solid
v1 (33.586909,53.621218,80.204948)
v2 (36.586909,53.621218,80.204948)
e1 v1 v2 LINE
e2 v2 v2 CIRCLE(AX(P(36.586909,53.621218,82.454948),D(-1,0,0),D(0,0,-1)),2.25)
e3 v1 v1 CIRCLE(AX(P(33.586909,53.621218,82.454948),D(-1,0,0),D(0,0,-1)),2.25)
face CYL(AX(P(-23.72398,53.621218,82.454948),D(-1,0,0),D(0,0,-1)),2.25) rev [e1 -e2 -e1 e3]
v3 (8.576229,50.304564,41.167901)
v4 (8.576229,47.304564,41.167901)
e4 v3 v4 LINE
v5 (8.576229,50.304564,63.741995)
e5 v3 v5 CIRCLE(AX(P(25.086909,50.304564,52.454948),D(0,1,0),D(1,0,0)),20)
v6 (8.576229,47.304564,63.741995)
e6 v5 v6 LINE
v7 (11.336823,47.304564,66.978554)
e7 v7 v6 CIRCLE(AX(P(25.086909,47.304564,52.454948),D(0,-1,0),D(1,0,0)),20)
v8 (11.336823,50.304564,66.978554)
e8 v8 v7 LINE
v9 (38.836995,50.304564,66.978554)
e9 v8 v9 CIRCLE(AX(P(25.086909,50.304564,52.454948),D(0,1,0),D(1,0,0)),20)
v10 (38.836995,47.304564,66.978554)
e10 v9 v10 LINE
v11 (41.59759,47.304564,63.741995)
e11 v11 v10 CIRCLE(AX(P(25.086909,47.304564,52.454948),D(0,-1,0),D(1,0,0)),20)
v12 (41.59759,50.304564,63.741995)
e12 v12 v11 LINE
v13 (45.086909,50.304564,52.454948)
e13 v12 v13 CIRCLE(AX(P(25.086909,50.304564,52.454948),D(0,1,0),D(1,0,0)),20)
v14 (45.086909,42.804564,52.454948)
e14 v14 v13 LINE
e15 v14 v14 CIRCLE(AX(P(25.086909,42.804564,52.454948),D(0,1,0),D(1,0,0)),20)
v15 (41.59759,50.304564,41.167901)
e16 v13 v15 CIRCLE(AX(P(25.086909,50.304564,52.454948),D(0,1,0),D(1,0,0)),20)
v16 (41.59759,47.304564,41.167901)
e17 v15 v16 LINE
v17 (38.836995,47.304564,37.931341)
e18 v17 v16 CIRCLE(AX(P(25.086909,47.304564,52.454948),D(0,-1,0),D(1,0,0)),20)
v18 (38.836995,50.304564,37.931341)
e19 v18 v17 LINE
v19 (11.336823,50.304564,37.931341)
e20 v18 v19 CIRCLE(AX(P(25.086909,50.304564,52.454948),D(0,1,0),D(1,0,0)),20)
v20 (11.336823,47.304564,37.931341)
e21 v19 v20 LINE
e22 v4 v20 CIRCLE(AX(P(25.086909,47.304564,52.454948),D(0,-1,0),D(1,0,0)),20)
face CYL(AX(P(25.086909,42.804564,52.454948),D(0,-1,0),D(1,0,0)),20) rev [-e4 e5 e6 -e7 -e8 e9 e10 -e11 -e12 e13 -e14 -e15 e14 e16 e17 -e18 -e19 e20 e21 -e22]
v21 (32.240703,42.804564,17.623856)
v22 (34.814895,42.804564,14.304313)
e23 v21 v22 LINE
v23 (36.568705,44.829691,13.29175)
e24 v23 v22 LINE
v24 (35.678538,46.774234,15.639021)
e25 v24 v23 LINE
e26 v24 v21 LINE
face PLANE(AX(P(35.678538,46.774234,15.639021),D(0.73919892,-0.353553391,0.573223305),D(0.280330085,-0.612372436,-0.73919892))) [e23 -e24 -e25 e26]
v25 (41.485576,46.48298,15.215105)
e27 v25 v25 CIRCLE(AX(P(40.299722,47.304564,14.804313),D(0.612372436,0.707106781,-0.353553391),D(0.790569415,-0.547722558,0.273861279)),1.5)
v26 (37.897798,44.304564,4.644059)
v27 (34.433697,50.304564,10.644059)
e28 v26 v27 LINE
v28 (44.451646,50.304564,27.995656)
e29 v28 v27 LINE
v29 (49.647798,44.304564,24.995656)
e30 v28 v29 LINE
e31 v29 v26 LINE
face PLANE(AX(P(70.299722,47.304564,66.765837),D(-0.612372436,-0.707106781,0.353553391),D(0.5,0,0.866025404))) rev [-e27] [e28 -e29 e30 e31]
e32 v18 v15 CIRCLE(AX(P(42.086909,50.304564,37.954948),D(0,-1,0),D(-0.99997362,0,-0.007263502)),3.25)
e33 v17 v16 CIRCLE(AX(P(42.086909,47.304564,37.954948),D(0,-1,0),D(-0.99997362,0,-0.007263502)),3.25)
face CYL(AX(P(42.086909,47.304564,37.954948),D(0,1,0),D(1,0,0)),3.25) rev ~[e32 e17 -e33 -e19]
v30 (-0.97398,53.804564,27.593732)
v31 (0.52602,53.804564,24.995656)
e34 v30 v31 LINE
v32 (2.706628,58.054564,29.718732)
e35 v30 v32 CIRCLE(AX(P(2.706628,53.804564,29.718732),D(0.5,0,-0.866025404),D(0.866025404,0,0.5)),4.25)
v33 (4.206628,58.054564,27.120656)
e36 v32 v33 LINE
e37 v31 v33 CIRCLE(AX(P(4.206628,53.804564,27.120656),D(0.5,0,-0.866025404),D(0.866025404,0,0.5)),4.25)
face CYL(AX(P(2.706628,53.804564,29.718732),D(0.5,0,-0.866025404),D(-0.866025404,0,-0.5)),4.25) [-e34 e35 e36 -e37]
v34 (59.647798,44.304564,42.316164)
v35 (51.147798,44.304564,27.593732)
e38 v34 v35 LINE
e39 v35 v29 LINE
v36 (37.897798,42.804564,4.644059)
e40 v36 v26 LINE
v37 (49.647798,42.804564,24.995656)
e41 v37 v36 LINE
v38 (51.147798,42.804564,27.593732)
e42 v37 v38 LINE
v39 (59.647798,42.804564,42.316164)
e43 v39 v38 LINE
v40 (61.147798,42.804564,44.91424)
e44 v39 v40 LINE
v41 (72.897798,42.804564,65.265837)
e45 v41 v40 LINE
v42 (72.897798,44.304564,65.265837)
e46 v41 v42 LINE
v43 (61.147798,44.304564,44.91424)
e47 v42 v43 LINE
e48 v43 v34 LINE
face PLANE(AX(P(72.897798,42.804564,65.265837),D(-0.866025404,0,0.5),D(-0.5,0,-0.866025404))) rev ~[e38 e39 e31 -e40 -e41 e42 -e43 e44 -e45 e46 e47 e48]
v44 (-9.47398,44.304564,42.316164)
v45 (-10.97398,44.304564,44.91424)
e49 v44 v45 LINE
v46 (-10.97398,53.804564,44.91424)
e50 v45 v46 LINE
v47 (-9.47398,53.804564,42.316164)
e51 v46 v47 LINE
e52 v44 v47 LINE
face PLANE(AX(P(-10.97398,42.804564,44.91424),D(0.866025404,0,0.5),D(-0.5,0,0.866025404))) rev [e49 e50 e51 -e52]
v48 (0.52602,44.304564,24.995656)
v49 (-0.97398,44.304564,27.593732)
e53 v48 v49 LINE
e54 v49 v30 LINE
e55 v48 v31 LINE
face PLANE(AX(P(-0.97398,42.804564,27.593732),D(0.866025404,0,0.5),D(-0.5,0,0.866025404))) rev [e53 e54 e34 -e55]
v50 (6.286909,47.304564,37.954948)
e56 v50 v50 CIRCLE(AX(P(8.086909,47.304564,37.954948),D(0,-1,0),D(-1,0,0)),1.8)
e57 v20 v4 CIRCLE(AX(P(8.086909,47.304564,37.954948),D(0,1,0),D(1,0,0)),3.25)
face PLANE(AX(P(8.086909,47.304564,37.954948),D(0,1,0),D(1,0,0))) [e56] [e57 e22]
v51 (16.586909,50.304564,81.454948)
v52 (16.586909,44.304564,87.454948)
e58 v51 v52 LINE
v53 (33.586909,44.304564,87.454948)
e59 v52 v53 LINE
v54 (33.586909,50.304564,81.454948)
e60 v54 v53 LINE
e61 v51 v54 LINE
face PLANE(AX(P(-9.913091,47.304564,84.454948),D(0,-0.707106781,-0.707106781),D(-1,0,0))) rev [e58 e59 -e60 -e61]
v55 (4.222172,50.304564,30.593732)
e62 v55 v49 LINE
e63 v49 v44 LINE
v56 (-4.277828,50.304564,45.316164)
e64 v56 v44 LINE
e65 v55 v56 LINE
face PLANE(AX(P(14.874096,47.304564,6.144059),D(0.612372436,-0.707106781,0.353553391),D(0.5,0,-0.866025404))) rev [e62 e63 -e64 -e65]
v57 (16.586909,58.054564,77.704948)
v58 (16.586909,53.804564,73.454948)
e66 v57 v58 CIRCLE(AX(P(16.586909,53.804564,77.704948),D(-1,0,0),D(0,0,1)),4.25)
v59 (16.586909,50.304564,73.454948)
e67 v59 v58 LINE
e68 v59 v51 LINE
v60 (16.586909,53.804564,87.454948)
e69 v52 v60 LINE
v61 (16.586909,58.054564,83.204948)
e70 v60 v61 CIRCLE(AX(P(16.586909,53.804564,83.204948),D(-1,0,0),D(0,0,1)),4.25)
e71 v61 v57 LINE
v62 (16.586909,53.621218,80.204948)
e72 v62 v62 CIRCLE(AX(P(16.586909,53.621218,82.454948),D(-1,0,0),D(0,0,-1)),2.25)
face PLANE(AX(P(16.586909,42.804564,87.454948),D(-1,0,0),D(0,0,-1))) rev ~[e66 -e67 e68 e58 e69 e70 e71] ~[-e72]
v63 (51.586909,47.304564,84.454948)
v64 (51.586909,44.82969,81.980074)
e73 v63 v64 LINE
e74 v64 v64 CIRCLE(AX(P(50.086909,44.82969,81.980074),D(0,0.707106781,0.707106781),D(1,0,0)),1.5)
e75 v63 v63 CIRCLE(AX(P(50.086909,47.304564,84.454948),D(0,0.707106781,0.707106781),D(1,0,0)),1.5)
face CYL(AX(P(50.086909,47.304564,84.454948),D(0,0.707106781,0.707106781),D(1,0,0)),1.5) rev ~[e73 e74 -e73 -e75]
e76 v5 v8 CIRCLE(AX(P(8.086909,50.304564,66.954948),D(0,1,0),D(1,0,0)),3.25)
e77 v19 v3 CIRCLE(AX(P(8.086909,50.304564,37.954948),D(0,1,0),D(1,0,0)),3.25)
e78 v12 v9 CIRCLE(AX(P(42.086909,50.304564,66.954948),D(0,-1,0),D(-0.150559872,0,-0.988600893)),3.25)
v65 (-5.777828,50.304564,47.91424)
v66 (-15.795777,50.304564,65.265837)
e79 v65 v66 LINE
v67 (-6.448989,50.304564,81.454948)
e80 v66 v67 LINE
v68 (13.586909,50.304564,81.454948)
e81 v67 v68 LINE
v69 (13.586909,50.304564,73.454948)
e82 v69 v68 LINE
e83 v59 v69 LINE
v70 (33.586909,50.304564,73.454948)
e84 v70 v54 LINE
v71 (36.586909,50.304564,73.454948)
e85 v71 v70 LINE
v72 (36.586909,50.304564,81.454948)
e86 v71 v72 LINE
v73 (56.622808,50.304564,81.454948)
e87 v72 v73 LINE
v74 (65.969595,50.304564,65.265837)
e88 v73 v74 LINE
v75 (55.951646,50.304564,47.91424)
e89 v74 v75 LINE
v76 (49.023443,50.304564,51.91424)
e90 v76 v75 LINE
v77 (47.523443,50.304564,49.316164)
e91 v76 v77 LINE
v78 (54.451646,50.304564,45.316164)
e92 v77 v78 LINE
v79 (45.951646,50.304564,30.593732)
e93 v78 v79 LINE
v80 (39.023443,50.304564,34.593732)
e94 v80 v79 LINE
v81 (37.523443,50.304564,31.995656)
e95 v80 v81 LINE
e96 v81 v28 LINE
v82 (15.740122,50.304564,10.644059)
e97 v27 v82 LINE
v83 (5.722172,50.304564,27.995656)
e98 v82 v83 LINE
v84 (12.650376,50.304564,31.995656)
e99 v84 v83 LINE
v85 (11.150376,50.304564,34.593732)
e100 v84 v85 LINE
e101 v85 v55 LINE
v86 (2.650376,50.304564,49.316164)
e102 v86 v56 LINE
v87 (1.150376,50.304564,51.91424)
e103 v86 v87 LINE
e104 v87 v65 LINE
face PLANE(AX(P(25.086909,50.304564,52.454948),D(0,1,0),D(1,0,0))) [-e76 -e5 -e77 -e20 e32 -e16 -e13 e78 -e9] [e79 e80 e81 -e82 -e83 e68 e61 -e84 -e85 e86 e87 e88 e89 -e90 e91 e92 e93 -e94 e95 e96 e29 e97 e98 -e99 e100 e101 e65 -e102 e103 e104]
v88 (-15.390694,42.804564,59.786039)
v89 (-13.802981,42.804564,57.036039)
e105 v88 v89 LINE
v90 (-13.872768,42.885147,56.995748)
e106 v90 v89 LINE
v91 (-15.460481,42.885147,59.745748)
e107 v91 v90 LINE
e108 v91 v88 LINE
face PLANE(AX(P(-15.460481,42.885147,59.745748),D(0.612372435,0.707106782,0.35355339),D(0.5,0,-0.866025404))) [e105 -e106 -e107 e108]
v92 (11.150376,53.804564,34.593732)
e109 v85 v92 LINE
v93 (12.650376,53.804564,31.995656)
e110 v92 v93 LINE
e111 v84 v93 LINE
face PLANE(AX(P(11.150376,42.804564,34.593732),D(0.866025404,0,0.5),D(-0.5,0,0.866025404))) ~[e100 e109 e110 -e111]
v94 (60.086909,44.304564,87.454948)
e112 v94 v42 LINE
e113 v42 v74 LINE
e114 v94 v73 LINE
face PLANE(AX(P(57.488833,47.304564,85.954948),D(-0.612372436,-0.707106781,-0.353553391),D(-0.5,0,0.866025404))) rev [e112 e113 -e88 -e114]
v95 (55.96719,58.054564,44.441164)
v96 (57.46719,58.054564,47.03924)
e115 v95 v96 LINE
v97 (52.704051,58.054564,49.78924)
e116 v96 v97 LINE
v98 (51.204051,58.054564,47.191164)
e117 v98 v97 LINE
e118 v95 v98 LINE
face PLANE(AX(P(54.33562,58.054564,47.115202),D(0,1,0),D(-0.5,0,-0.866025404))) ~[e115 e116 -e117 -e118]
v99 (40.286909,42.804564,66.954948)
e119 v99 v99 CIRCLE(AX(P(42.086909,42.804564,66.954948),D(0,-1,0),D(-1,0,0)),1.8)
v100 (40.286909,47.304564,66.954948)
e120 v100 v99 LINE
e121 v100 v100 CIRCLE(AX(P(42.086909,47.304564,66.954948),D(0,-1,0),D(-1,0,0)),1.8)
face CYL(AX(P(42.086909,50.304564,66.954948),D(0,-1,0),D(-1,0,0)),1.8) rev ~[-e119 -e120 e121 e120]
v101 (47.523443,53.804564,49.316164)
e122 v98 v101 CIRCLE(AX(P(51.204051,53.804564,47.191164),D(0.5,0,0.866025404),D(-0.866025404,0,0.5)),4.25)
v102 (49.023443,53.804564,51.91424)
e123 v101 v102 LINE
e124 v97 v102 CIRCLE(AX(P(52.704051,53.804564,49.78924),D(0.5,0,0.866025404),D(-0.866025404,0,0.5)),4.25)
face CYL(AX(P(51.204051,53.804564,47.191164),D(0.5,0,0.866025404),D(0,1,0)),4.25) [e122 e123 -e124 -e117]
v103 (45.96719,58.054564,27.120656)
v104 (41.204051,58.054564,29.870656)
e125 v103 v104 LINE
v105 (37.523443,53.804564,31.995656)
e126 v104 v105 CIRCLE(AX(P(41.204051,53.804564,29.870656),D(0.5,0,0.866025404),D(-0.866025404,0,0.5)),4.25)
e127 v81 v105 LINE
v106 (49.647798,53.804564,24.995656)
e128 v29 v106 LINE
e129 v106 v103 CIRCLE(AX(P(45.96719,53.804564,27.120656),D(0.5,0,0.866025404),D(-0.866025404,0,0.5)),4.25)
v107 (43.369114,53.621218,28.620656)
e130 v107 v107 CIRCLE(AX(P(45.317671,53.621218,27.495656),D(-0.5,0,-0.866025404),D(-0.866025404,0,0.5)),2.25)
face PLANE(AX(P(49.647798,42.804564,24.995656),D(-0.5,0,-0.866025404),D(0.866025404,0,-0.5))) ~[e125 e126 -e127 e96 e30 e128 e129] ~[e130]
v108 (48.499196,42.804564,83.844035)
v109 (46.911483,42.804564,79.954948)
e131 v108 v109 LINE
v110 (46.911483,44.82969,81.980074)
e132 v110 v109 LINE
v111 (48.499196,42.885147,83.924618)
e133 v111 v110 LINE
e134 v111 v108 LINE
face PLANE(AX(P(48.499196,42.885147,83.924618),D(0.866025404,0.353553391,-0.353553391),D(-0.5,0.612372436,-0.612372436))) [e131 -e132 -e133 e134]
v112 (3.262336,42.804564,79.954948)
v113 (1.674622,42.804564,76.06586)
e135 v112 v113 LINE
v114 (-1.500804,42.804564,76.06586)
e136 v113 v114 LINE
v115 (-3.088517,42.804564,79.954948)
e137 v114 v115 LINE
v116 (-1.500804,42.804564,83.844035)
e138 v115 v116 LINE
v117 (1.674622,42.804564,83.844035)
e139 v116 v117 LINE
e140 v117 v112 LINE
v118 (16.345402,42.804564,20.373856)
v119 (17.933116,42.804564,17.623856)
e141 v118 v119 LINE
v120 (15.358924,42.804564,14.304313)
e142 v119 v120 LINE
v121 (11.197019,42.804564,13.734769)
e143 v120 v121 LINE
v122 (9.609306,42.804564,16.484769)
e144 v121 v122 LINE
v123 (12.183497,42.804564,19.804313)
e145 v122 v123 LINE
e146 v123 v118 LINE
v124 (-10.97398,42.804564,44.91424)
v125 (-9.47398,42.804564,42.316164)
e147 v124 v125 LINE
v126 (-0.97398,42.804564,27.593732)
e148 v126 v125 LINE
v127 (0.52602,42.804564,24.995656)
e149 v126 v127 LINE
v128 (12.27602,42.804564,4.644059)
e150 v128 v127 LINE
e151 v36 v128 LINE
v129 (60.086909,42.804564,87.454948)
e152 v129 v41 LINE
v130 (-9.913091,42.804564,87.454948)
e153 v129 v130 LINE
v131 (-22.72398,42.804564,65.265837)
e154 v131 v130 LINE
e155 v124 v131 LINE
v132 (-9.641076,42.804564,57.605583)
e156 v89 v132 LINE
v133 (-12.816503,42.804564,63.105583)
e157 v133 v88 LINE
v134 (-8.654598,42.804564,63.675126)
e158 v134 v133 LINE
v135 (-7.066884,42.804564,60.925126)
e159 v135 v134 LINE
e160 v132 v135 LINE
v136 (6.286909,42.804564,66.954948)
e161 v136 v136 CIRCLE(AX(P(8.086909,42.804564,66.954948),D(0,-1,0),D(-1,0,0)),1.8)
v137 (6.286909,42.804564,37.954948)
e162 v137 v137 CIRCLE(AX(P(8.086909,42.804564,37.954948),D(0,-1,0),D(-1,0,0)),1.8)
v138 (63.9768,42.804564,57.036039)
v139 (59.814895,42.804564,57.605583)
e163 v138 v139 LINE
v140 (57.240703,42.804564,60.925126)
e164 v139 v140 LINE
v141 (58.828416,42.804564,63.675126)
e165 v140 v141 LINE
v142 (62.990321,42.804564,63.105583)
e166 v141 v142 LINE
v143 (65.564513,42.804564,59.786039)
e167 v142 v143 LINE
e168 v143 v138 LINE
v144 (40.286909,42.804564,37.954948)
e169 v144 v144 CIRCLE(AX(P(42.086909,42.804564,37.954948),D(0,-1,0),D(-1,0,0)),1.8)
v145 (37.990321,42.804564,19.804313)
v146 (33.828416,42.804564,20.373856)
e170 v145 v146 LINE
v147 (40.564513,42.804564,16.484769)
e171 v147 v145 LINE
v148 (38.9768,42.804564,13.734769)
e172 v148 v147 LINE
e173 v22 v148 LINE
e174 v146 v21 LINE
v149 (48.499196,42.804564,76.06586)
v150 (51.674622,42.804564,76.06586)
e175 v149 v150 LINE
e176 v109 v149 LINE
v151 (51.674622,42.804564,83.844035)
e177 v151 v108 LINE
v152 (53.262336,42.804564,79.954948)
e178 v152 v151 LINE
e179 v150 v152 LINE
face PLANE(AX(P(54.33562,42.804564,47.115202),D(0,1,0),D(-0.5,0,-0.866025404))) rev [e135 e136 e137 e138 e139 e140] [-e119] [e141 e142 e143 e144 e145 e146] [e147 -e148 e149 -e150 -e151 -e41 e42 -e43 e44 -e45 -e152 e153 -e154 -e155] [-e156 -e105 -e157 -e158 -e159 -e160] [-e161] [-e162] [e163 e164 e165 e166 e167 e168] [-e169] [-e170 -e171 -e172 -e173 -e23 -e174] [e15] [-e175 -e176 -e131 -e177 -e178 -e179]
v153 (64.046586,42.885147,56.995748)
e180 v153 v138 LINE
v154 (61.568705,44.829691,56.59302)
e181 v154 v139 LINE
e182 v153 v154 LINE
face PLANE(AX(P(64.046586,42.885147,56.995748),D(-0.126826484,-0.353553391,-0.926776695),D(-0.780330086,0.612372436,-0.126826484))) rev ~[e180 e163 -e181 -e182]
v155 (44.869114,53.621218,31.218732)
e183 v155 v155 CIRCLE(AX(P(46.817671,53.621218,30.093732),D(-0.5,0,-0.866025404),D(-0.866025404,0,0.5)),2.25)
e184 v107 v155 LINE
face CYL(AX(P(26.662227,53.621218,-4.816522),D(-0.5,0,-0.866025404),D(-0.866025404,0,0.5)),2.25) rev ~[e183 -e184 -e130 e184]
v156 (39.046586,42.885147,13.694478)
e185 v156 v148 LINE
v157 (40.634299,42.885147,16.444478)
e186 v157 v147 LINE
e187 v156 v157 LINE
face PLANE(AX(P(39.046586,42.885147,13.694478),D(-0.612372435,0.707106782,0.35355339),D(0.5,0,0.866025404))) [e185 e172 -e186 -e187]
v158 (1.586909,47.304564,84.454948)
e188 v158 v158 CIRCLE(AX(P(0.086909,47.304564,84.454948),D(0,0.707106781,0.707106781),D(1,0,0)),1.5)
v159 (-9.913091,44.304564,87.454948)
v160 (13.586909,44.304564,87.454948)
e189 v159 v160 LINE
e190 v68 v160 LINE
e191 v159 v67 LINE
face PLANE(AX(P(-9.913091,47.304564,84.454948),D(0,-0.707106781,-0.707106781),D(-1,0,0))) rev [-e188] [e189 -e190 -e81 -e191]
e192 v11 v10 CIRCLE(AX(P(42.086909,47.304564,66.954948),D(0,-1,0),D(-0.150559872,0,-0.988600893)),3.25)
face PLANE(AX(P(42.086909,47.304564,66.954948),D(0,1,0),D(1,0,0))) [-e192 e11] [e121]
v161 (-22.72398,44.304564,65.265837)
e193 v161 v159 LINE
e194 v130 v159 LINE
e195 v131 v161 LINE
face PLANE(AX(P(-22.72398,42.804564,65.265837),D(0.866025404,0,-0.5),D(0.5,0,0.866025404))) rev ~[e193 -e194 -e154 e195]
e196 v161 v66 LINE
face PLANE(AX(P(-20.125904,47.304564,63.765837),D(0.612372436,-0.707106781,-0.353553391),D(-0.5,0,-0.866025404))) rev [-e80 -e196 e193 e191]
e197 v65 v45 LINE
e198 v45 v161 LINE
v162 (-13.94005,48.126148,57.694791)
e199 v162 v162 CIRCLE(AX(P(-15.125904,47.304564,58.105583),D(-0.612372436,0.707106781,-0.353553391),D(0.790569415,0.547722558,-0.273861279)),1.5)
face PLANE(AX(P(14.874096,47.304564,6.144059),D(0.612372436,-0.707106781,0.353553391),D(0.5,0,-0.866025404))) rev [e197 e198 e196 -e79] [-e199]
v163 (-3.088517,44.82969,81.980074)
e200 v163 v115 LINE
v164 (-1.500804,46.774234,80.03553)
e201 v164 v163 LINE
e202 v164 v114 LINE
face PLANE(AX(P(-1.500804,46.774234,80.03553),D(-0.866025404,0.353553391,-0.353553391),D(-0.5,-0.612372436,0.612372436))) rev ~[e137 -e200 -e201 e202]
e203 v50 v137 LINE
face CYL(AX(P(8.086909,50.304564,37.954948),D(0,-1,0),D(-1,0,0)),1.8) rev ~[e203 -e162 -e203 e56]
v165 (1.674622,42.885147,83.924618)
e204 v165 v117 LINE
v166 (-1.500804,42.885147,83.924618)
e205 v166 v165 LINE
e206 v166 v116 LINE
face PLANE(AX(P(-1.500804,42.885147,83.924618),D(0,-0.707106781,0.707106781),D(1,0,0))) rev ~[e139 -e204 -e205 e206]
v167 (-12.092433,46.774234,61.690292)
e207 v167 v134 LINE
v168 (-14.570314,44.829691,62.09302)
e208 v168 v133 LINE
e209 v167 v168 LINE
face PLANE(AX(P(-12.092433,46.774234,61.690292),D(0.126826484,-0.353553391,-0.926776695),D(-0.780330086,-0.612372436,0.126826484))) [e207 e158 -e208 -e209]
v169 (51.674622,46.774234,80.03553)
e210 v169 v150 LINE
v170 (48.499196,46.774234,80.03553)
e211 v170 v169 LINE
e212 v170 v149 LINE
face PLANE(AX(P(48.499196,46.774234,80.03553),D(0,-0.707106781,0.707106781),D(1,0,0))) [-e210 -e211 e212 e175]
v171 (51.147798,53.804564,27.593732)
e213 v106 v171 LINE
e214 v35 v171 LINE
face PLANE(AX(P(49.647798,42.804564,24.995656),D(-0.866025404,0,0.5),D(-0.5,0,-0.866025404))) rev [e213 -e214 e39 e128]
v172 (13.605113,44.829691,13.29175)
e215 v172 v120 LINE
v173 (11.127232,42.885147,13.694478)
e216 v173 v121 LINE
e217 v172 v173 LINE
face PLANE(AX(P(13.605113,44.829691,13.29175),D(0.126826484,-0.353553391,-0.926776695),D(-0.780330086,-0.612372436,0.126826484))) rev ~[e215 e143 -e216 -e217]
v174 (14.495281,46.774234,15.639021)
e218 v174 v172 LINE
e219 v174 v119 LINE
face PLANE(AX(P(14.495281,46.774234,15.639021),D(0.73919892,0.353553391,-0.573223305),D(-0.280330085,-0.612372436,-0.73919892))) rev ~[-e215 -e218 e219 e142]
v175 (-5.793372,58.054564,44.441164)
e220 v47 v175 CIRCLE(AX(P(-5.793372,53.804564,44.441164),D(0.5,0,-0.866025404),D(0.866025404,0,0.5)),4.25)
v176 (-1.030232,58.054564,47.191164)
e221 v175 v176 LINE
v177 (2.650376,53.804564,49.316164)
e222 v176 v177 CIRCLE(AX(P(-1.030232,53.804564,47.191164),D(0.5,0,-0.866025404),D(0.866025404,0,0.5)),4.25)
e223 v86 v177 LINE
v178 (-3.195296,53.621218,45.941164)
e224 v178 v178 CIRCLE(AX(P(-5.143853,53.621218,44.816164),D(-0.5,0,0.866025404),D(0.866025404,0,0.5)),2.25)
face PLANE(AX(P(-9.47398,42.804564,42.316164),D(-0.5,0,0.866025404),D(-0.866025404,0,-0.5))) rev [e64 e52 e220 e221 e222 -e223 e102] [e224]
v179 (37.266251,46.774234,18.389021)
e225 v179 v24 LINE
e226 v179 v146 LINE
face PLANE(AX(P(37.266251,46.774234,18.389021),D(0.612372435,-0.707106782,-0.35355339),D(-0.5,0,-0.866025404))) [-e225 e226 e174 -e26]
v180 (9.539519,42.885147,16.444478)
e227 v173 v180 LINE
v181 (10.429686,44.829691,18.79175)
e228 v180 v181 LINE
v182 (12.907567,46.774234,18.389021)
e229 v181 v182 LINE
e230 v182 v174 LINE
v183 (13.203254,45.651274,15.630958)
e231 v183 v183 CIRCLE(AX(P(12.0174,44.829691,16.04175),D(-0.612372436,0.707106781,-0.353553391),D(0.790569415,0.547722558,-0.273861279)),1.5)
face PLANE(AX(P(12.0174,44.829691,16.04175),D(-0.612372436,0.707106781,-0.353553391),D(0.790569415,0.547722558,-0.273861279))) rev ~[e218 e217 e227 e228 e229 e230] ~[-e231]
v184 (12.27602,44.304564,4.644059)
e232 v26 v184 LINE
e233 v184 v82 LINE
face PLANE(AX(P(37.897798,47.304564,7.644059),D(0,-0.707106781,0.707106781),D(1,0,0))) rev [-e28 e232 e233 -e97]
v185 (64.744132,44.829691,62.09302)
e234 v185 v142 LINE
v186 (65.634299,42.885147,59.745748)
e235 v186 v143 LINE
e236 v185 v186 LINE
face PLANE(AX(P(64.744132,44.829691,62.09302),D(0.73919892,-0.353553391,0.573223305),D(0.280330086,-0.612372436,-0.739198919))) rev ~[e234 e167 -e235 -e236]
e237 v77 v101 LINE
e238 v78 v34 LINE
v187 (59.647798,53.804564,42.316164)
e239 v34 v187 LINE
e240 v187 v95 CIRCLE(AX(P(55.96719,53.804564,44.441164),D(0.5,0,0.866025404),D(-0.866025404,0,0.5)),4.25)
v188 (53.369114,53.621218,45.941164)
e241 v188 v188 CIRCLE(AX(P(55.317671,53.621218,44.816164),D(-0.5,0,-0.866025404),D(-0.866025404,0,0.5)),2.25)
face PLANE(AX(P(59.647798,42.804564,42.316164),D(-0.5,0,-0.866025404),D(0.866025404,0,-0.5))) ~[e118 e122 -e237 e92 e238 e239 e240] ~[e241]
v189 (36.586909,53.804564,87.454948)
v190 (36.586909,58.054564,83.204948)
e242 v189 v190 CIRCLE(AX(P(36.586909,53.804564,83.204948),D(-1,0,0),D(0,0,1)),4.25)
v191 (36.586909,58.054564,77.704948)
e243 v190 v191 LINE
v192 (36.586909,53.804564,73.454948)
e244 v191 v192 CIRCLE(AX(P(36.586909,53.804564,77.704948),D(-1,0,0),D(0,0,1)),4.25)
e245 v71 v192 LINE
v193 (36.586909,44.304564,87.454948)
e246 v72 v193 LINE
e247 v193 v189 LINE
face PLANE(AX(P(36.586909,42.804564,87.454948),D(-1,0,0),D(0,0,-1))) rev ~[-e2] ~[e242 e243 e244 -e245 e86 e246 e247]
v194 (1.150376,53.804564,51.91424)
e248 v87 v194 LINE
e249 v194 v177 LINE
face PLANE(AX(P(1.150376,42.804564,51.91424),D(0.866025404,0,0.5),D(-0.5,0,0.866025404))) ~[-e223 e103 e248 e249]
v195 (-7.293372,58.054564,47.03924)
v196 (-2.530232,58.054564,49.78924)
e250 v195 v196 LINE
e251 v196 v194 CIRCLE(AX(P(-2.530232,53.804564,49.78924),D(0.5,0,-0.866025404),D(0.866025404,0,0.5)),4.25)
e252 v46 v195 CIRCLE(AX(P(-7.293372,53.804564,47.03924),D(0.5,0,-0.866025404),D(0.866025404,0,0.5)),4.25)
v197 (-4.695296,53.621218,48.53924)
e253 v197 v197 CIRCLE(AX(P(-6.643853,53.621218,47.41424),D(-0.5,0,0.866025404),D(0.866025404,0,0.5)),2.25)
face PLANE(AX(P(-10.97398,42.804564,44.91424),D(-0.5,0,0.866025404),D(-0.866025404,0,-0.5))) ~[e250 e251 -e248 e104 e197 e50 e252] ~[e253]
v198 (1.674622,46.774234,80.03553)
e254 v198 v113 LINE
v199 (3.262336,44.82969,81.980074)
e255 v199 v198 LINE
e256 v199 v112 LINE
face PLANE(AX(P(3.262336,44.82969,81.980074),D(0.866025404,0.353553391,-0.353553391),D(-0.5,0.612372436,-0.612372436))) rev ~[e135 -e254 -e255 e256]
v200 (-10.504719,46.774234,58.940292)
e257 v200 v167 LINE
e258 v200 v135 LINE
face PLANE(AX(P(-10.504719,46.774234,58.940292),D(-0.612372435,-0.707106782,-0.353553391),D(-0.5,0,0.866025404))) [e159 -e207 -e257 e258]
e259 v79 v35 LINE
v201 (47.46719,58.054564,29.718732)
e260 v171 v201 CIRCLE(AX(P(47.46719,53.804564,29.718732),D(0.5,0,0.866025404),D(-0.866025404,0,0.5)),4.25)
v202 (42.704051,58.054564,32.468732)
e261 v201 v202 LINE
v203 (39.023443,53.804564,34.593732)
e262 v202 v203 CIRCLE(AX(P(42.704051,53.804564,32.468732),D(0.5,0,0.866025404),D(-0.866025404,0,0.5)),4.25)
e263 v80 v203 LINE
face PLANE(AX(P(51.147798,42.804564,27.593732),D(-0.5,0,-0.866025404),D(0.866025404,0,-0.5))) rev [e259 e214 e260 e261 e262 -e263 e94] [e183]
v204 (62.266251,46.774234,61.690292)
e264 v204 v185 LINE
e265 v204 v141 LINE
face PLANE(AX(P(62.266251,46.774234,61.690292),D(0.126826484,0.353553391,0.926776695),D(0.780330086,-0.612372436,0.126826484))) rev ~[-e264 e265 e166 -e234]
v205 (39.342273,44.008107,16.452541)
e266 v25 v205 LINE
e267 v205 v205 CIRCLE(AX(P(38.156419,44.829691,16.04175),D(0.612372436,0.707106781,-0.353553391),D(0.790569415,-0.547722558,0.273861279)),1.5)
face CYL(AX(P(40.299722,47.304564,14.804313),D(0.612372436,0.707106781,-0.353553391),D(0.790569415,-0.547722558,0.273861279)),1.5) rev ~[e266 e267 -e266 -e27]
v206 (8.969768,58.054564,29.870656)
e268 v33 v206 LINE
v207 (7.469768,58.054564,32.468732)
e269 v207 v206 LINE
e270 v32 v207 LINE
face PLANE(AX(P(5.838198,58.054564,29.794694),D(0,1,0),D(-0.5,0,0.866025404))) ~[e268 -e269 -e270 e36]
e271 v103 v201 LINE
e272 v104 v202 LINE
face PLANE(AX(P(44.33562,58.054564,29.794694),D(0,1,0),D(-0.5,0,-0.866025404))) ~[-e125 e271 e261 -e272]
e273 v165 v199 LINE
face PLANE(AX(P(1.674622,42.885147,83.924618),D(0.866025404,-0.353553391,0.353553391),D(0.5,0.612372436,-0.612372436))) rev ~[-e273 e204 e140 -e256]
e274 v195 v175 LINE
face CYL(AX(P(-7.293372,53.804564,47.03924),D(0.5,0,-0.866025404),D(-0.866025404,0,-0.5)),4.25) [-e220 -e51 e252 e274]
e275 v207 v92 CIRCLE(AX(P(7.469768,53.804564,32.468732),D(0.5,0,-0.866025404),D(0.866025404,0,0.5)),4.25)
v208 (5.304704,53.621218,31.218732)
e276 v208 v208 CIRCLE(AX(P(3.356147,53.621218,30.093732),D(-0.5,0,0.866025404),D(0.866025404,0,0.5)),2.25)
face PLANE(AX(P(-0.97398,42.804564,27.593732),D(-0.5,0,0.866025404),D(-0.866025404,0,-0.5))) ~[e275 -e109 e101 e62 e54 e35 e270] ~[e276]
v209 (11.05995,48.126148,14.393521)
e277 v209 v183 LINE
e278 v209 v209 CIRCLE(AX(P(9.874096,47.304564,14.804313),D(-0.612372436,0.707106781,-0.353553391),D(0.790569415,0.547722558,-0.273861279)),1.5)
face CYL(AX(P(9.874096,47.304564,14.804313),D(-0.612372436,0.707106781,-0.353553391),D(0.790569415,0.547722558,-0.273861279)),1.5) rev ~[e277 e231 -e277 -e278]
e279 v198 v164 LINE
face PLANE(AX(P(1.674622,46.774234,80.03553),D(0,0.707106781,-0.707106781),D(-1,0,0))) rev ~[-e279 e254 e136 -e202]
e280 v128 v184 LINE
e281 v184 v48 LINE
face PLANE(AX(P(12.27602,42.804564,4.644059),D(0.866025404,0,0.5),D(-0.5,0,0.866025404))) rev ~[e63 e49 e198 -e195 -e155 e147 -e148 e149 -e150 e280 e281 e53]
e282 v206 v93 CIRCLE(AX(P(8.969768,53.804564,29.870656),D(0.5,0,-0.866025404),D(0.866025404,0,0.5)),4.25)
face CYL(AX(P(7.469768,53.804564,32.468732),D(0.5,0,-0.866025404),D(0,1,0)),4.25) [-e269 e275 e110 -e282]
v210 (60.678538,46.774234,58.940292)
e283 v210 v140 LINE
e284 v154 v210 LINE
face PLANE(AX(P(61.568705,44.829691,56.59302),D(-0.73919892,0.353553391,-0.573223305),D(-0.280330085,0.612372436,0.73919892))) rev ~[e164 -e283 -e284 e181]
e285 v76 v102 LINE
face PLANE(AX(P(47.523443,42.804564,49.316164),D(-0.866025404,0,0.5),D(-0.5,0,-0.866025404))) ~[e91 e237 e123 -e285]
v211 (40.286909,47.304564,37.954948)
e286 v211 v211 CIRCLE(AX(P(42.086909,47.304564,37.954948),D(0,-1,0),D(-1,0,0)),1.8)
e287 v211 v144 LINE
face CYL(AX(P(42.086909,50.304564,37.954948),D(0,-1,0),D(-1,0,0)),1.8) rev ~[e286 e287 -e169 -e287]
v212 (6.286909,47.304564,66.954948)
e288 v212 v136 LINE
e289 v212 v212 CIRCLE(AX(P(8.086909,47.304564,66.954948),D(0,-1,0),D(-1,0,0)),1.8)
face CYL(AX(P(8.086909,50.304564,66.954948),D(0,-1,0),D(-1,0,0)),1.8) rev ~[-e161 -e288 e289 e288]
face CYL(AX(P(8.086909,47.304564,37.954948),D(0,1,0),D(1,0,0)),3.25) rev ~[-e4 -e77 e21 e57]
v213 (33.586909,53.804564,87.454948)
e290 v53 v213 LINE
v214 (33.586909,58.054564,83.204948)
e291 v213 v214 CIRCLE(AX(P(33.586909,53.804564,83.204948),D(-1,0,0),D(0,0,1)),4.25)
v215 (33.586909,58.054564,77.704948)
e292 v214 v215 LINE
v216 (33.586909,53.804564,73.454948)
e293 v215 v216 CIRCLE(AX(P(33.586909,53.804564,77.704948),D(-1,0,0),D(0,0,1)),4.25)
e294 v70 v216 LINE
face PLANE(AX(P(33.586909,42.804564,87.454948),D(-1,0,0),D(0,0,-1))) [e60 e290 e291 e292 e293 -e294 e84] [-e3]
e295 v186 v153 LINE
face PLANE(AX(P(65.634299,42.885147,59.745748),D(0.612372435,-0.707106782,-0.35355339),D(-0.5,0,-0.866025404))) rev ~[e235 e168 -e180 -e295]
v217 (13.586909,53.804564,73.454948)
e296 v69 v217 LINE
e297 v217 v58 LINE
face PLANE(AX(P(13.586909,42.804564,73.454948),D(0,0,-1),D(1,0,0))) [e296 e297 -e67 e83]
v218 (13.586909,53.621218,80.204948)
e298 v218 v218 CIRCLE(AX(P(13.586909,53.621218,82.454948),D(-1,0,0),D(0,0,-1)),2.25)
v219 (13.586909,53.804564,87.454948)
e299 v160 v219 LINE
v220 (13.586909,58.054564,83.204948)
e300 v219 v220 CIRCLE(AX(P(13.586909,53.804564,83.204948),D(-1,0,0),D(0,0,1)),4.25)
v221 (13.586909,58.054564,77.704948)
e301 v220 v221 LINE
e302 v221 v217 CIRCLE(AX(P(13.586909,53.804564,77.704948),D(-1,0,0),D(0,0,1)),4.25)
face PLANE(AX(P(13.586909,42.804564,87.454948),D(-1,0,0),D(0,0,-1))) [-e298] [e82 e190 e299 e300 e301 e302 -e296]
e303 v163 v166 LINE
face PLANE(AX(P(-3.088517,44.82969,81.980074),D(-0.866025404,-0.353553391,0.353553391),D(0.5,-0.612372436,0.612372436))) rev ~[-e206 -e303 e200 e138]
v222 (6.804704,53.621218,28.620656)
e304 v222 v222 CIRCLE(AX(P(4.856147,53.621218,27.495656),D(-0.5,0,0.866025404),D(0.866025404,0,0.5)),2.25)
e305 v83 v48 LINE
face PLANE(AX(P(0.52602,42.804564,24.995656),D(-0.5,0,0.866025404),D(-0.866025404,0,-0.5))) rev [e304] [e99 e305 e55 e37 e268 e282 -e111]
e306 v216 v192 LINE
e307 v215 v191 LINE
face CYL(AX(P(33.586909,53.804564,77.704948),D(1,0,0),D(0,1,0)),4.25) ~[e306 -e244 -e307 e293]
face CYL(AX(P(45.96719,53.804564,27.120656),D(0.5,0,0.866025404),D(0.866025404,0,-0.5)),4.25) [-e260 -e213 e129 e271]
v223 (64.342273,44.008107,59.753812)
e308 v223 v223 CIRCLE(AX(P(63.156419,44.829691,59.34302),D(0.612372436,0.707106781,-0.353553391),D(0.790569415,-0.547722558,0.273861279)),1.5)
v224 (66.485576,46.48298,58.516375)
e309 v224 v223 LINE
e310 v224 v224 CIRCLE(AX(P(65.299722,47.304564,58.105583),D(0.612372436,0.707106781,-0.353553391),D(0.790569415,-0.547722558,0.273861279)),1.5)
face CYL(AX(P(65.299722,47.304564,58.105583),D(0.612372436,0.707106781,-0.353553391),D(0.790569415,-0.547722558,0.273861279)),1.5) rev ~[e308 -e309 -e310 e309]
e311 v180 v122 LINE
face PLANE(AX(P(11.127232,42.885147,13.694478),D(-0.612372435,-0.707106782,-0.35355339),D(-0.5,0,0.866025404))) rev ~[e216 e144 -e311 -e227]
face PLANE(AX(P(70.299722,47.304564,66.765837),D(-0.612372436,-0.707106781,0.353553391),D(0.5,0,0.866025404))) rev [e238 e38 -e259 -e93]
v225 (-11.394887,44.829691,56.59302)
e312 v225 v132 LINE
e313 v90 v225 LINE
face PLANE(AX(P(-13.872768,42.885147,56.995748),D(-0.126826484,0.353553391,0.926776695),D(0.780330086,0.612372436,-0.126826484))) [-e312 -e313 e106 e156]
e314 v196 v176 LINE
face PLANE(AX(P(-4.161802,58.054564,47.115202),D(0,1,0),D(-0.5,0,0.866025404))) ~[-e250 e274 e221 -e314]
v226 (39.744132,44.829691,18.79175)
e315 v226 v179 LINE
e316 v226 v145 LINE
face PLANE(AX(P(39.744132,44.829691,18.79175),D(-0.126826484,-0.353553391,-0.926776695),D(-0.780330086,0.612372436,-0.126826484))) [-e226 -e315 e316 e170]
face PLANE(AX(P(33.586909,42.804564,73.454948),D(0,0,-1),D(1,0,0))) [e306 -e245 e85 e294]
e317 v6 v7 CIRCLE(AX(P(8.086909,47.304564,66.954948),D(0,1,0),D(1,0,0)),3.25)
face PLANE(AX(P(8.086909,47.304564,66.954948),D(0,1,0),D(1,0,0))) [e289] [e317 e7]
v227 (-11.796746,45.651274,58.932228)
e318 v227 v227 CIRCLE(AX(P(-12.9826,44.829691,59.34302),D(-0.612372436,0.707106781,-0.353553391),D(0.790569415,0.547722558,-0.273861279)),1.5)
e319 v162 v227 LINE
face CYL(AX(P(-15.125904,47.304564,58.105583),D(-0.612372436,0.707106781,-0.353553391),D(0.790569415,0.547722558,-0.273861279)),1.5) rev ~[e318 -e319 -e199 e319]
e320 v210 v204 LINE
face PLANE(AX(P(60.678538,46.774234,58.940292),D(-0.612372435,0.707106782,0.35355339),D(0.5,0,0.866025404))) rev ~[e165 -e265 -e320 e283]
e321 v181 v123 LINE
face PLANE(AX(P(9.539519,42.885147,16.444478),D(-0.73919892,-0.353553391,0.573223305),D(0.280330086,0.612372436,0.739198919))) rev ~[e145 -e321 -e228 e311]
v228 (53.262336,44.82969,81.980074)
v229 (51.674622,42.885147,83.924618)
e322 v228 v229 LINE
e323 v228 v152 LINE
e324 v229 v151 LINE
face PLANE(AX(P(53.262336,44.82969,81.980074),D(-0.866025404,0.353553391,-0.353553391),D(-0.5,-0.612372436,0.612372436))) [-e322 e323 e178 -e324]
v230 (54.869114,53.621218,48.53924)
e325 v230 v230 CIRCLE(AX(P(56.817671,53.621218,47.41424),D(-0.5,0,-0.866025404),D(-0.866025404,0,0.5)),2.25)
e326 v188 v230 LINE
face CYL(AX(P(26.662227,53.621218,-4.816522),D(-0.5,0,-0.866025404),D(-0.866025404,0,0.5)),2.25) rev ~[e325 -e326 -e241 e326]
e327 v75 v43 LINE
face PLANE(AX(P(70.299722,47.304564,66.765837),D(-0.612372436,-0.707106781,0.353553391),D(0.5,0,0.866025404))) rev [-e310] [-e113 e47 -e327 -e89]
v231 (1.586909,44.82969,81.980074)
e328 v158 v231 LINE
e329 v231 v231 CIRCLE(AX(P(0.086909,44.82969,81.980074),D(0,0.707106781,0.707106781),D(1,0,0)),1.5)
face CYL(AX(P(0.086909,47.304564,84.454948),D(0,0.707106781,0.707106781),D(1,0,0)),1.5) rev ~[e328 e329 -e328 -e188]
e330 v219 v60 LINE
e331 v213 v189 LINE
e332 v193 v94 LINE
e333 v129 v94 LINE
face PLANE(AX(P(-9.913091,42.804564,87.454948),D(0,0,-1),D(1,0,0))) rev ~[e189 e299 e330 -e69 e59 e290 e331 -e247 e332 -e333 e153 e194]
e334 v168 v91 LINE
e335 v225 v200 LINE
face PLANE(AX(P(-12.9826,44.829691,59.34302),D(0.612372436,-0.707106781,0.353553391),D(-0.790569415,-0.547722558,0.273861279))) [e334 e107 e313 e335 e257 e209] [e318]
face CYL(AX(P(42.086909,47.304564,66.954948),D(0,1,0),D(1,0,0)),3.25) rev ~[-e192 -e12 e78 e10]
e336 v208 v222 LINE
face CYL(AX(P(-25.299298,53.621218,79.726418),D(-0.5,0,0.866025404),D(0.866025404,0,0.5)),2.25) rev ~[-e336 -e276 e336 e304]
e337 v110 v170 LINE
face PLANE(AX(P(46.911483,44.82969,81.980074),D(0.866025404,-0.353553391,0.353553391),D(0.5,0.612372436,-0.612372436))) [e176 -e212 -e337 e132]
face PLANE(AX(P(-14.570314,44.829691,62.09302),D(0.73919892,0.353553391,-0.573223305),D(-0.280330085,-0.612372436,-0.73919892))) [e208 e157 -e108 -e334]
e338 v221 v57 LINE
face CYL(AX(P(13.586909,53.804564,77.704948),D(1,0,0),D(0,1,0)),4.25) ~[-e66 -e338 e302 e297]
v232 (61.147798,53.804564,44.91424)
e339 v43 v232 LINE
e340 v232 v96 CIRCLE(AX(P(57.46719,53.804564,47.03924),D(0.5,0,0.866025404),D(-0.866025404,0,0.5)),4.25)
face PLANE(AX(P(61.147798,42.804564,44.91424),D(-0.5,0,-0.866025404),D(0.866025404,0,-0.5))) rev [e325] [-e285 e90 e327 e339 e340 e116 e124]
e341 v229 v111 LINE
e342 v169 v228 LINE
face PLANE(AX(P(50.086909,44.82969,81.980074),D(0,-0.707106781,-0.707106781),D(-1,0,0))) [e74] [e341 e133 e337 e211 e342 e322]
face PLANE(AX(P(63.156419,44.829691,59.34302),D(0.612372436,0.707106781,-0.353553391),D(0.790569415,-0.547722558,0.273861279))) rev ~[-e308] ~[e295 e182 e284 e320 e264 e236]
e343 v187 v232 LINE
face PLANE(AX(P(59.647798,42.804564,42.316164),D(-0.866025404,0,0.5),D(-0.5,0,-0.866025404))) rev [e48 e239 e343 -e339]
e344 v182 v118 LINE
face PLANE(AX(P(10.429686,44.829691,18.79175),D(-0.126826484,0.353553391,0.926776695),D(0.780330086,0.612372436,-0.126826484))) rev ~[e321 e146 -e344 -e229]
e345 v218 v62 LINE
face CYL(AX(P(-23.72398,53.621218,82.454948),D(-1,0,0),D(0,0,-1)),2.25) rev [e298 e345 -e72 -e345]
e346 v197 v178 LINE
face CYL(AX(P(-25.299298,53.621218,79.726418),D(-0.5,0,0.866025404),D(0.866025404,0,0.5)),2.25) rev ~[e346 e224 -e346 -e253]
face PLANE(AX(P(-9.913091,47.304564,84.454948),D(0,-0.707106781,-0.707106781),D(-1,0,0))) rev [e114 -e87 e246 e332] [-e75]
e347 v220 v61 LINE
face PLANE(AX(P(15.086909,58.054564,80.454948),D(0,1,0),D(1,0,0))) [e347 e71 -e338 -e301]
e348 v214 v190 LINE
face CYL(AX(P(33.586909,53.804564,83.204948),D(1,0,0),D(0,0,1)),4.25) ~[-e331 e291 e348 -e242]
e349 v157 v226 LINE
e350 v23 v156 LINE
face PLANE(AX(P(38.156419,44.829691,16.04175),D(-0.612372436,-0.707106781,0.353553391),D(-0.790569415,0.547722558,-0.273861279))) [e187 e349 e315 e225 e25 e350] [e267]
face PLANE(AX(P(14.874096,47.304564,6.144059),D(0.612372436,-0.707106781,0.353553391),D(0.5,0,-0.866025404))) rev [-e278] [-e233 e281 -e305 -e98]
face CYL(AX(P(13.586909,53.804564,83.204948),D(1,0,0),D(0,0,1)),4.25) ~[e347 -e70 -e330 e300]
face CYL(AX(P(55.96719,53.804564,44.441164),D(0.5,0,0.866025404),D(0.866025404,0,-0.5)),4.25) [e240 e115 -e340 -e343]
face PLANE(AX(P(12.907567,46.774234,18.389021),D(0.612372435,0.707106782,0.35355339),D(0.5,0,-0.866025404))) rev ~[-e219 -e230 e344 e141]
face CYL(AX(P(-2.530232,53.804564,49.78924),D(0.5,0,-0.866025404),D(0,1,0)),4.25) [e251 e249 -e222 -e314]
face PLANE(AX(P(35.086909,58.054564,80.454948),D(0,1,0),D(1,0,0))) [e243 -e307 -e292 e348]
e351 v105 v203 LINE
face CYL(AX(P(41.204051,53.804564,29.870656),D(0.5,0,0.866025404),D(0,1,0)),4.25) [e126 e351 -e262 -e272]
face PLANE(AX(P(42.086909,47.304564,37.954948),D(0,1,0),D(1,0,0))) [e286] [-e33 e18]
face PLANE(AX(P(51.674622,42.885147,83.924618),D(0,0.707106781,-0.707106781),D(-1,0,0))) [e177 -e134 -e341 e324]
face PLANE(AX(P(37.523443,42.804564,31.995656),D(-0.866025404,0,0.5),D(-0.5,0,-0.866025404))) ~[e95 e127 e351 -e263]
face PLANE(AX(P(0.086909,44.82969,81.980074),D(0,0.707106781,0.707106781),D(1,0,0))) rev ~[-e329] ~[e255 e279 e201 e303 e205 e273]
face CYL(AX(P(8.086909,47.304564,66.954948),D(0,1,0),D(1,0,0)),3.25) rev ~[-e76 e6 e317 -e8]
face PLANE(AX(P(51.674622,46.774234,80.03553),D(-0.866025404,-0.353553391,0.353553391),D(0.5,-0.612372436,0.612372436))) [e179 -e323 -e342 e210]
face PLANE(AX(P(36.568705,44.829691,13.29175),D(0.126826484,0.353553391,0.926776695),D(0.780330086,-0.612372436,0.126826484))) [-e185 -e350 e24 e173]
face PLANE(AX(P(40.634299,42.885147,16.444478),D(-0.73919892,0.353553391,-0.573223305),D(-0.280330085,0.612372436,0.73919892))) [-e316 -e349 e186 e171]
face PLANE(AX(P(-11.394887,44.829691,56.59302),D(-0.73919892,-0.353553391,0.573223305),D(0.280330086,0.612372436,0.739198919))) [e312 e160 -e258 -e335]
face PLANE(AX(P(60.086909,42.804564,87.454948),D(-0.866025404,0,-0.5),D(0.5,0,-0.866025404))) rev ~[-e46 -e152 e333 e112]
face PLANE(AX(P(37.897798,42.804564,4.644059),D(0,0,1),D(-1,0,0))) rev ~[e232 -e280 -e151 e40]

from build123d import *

# Parameters (mm, degrees)
SKETCH1_R                      = 20
BOSS_EXTRUDE1_DEPTH            = 7.5
CHAMFER2_SIZE                  = 6
CBORE_FOR_M3_SHCS1_D           = 3.6
CBORE_FOR_M3_SHCS1_CBORE_D     = 6.5
CBORE_FOR_M3_SHCS1_CBORE_DEPTH = 3
CUT_EXTRUDE1_REACH             = 61.617
SKETCH4_R                      = 1.5
CUT_EXTRUDE2_START             = -3.5
CUT_EXTRUDE2_DEPTH             = 10
SKETCH7_R                      = 1.5
CUT_EXTRUDE3_DEPTH             = 10
CUT_EXTRUDE4_START             = -3.5
CUT_EXTRUDE4_DEPTH             = 10
SKETCH9_R                      = 1.5
CUT_EXTRUDE5_DEPTH             = 10
CUT_EXTRUDE6_START             = -3.5
CUT_EXTRUDE6_DEPTH             = 10
SKETCH11_W                     = 3
SKETCH11_H                     = 14
BOSS_EXTRUDE2_DEPTH            = 15.25
CUT_EXTRUDE7_START             = -60.310889132
SKETCH12_R                     = 2.25
CUT_EXTRUDE7_DEPTH             = 97.621778265
FILLET1_R                      = 4.25
FILLET1_OF_MIRROR4_R           = 4.25
FILLET1_OF_MIRROR5_R           = 4.25


with BuildPart() as part:
    # Sketch1 → Boss-Extrude1 (new body)
    with BuildSketch(Plane(origin=(0, 42.804564232, 0), x_dir=(1, 0, 0), z_dir=(0, 1, 0))):
        Polygon((72.89779828, -65.265836883), (37.89779828, -4.644058618), (12.276020015, -4.644058618), (-22.723979985, -65.265836883), (-9.913090852, -87.454947751), (60.086909148, -87.454947751), align=None)
        with Locations((25.086909148, -52.454947751)):
            Circle(SKETCH1_R, mode=Mode.SUBTRACT)
    extrude(amount=BOSS_EXTRUDE1_DEPTH)

    # Chamfer2
    chamfer2_edges = [part.edges().sort_by_distance(p)[0] for p in [
        (-16.318535418, 50.304564232, 76.360392317),
        (25.086909148, 50.304564232, 87.454947751),
        (66.492353714, 50.304564232, 76.360392317),
        (55.39779828, 50.304564232, 34.954947751),
        (25.086909148, 50.304564232, 4.644058618),
        (-5.223979985, 50.304564232, 34.954947751),
    ]]
    chamfer(chamfer2_edges, length=CHAMFER2_SIZE)

    # CBORE for M3 SHCS1 (through all)
    with Locations(Plane(origin=(0, 50.304564232, 0), x_dir=(1, 0, 0), z_dir=(0, 1, 0))):
        with Locations((8.086909148, -37.954947751), (42.086909148, -37.954947751), (42.086909148, -66.954947751), (8.086909148, -66.954947751)):
            CounterBoreHole(CBORE_FOR_M3_SHCS1_D / 2, CBORE_FOR_M3_SHCS1_CBORE_D / 2, CBORE_FOR_M3_SHCS1_CBORE_DEPTH)

    # Sketch4 → Cut-Extrude1 (cut, up to next)
    with BuildSketch(Plane(origin=(0, 65.879755991, 65.879755991), x_dir=(1, 0, 0), z_dir=(0, 0.707106781, 0.707106781)), mode=Mode.PRIVATE) as cut_extrude1_sk1:
        with Locations((0.086909148, -26.26928811)):
            Circle(SKETCH4_R)
    cut_extrude1_tool1 = extrude(cut_extrude1_sk1.sketch, amount=-CUT_EXTRUDE1_REACH, mode=Mode.PRIVATE) & part.part
    add(cut_extrude1_tool1.solids().sort_by_distance((0.086909, 47.304564, 84.454948))[0], mode=Mode.SUBTRACT)
    # Sketch4 → Cut-Extrude1 (cut, up to next)
    with BuildSketch(Plane(origin=(0, 65.879755991, 65.879755991), x_dir=(1, 0, 0), z_dir=(0, 0.707106781, 0.707106781)), mode=Mode.PRIVATE) as cut_extrude1_sk2:
        with Locations((50.086909148, -26.26928811)):
            Circle(SKETCH4_R)
    cut_extrude1_tool2 = extrude(cut_extrude1_sk2.sketch, amount=-CUT_EXTRUDE1_REACH, mode=Mode.PRIVATE) & part.part
    add(cut_extrude1_tool2.solids().sort_by_distance((50.086909, 47.304564, 84.454948))[0], mode=Mode.SUBTRACT)

    # Sketch5 → Cut-Extrude2 (cut)
    with BuildSketch(Plane(origin=(0, 65.879755991, 65.879755991), x_dir=(1, 0, 0), z_dir=(0, 0.707106781, 0.707106781)).offset(CUT_EXTRUDE2_START)):
        Polygon((3.262335628, -26.26928811), (1.674622388, -23.51928811), (-1.500804092, -23.51928811), (-3.088517333, -26.26928811), (-1.500804092, -29.01928811), (1.674622388, -29.01928811), align=None)
        Polygon((48.499195908, -29.01928811), (46.911482667, -26.26928811), (48.499195908, -23.51928811), (51.674622388, -23.51928811), (53.262335628, -26.26928811), (51.674622388, -29.01928811), align=None)
    extrude(amount=-CUT_EXTRUDE2_DEPTH, mode=Mode.SUBTRACT)

    # Sketch7 → Cut-Extrude3 (cut)
    with BuildSketch(Plane(origin=(-13.575463373, 15.675594866, -7.837797433), x_dir=(0.790569415, 0.547722558, -0.273861279), z_dir=(-0.612372436, 0.707106781, -0.353553391))):
        with Locations((29.661607386, -34.396624037)):
            Circle(SKETCH7_R)
        with Locations((-1.961169216, -73.126457499)):
            Circle(SKETCH7_R)
    extrude(amount=-CUT_EXTRUDE3_DEPTH, mode=Mode.SUBTRACT)

    # Sketch8 → Cut-Extrude4 (cut)
    with BuildSketch(Plane(origin=(-13.575463373, 15.675594866, -7.837797433), x_dir=(0.790569415, 0.547722558, -0.273861279), z_dir=(-0.612372436, 0.707106781, -0.353553391)).offset(CUT_EXTRUDE4_START)):
        Polygon((32.795906248, -34.906039363), (31.66992343, -31.936949262), (28.535624567, -31.427533937), (26.527308523, -33.887208712), (27.653291342, -36.856298813), (30.787590204, -37.365714138), align=None)
        Polygon((1.173129647, -73.635872825), (-0.835186398, -76.0955476), (-3.96948526, -75.586132275), (-5.095468078, -72.617042174), (-3.087152034, -70.157367399), (0.047146828, -70.666782724), align=None)
    extrude(amount=-CUT_EXTRUDE4_DEPTH, mode=Mode.SUBTRACT)

    # Sketch9 → Cut-Extrude5 (cut)
    with BuildSketch(Plane(origin=(32.390645234, 37.401495491, -18.700747745), x_dir=(0.790569415, -0.547722558, 0.273861279), z_dir=(0.612372436, 0.707106781, -0.353553391))):
        with Locations((41.627055396, -73.126457499)):
            Circle(SKETCH9_R)
        with Locations((10.004278795, -34.396624037)):
            Circle(SKETCH9_R)
    extrude(amount=-CUT_EXTRUDE5_DEPTH, mode=Mode.SUBTRACT)

    # Sketch10 → Cut-Extrude6 (cut)
    with BuildSketch(Plane(origin=(32.390645234, 37.401495491, -18.700747745), x_dir=(0.790569415, -0.547722558, 0.273861279), z_dir=(0.612372436, 0.707106781, -0.353553391)).offset(CUT_EXTRUDE6_START)):
        Polygon((39.618739352, -70.666782724), (38.492756534, -73.635872825), (40.501072578, -76.0955476), (43.63537144, -75.586132275), (44.761354259, -72.617042174), (42.753038215, -70.157367399), align=None)
        Polygon((13.138577657, -33.887208712), (12.012594839, -36.856298813), (8.878295976, -37.365714138), (6.869979932, -34.906039363), (7.99596275, -31.936949262), (11.130261613, -31.427533937), align=None)
    extrude(amount=-CUT_EXTRUDE6_DEPTH, mode=Mode.SUBTRACT)

    # Sketch11 → Boss-Extrude2 (add)
    with BuildSketch(Plane(origin=(0, 42.804564232, 0), x_dir=(1, 0, 0), z_dir=(0, 1, 0))):
        with Locations((35.086909148, -80.454947751)):
            Rectangle(SKETCH11_W, SKETCH11_H)
        with Locations((15.086909148, -80.454947751)):
            Rectangle(SKETCH11_W, SKETCH11_H)
    boss_extrude2 = extrude(amount=BOSS_EXTRUDE2_DEPTH)

    # Sketch12 → Cut-Extrude7 (cut)
    with BuildSketch(Plane(origin=(36.586909148, 0, 0), x_dir=(0, 0, -1), z_dir=(1, 0, 0)).offset(CUT_EXTRUDE7_START)):
        with Locations((-82.454947751, 53.621218058)):
            Circle(SKETCH12_R)
    cut_extrude7 = extrude(amount=CUT_EXTRUDE7_DEPTH, mode=Mode.SUBTRACT)

    # Fillet1
    fillet1_edges = [part.edges().sort_by_distance(p)[0] for p in [
        (35.086909148, 58.054564232, 87.454947751),
        (35.086909148, 58.054564232, 73.454947751),
        (15.086909148, 58.054564232, 87.454947751),
        (15.086909148, 58.054564232, 73.454947751),
    ]]
    fillet(fillet1_edges, radius=FILLET1_R)

    # Mirror4: Boss-Extrude2, Cut-Extrude7 across plane
    add(boss_extrude2.mirror(Plane(origin=(28.98538594, 0, 50.204161125), x_dir=(-0.866025404, 0, 0.5), z_dir=(0.5, 0, 0.866025404))))
    add(cut_extrude7.mirror(Plane(origin=(28.98538594, 0, 50.204161125), x_dir=(-0.866025404, 0, 0.5), z_dir=(0.5, 0, 0.866025404))), mode=Mode.SUBTRACT)

    # Fillet1 of Mirror4
    fillet1_of_mirror4_edges = [part.edges().sort_by_distance(p)[0] for p in [
        (-0.223979985, 58.054564232, 26.294693713),
        (11.900375668, 58.054564232, 33.294693713),
        (-10.223979985, 58.054564232, 43.615201789),
        (1.900375668, 58.054564232, 50.615201789),
    ]]
    fillet(fillet1_of_mirror4_edges, radius=FILLET1_OF_MIRROR4_R)

    # Mirror5: Boss-Extrude2, Cut-Extrude7 across plane
    add(boss_extrude2.mirror(Plane(origin=(-16.441931366, 0, 28.478260501), x_dir=(0.866025404, 0, 0.5), z_dir=(-0.5, 0, 0.866025404))))
    add(cut_extrude7.mirror(Plane(origin=(-16.441931366, 0, 28.478260501), x_dir=(0.866025404, 0, 0.5), z_dir=(-0.5, 0, 0.866025404))), mode=Mode.SUBTRACT)

    # Fillet1 of Mirror5
    fillet1_of_mirror5_edges = [part.edges().sort_by_distance(p)[0] for p in [
        (60.39779828, 58.054564232, 43.615201789),
        (48.273442627, 58.054564232, 50.615201789),
        (50.39779828, 58.054564232, 26.294693713),
        (38.273442627, 58.054564232, 33.294693713),
    ]]
    fillet(fillet1_of_mirror5_edges, radius=FILLET1_OF_MIRROR5_R)


solid = part.part
